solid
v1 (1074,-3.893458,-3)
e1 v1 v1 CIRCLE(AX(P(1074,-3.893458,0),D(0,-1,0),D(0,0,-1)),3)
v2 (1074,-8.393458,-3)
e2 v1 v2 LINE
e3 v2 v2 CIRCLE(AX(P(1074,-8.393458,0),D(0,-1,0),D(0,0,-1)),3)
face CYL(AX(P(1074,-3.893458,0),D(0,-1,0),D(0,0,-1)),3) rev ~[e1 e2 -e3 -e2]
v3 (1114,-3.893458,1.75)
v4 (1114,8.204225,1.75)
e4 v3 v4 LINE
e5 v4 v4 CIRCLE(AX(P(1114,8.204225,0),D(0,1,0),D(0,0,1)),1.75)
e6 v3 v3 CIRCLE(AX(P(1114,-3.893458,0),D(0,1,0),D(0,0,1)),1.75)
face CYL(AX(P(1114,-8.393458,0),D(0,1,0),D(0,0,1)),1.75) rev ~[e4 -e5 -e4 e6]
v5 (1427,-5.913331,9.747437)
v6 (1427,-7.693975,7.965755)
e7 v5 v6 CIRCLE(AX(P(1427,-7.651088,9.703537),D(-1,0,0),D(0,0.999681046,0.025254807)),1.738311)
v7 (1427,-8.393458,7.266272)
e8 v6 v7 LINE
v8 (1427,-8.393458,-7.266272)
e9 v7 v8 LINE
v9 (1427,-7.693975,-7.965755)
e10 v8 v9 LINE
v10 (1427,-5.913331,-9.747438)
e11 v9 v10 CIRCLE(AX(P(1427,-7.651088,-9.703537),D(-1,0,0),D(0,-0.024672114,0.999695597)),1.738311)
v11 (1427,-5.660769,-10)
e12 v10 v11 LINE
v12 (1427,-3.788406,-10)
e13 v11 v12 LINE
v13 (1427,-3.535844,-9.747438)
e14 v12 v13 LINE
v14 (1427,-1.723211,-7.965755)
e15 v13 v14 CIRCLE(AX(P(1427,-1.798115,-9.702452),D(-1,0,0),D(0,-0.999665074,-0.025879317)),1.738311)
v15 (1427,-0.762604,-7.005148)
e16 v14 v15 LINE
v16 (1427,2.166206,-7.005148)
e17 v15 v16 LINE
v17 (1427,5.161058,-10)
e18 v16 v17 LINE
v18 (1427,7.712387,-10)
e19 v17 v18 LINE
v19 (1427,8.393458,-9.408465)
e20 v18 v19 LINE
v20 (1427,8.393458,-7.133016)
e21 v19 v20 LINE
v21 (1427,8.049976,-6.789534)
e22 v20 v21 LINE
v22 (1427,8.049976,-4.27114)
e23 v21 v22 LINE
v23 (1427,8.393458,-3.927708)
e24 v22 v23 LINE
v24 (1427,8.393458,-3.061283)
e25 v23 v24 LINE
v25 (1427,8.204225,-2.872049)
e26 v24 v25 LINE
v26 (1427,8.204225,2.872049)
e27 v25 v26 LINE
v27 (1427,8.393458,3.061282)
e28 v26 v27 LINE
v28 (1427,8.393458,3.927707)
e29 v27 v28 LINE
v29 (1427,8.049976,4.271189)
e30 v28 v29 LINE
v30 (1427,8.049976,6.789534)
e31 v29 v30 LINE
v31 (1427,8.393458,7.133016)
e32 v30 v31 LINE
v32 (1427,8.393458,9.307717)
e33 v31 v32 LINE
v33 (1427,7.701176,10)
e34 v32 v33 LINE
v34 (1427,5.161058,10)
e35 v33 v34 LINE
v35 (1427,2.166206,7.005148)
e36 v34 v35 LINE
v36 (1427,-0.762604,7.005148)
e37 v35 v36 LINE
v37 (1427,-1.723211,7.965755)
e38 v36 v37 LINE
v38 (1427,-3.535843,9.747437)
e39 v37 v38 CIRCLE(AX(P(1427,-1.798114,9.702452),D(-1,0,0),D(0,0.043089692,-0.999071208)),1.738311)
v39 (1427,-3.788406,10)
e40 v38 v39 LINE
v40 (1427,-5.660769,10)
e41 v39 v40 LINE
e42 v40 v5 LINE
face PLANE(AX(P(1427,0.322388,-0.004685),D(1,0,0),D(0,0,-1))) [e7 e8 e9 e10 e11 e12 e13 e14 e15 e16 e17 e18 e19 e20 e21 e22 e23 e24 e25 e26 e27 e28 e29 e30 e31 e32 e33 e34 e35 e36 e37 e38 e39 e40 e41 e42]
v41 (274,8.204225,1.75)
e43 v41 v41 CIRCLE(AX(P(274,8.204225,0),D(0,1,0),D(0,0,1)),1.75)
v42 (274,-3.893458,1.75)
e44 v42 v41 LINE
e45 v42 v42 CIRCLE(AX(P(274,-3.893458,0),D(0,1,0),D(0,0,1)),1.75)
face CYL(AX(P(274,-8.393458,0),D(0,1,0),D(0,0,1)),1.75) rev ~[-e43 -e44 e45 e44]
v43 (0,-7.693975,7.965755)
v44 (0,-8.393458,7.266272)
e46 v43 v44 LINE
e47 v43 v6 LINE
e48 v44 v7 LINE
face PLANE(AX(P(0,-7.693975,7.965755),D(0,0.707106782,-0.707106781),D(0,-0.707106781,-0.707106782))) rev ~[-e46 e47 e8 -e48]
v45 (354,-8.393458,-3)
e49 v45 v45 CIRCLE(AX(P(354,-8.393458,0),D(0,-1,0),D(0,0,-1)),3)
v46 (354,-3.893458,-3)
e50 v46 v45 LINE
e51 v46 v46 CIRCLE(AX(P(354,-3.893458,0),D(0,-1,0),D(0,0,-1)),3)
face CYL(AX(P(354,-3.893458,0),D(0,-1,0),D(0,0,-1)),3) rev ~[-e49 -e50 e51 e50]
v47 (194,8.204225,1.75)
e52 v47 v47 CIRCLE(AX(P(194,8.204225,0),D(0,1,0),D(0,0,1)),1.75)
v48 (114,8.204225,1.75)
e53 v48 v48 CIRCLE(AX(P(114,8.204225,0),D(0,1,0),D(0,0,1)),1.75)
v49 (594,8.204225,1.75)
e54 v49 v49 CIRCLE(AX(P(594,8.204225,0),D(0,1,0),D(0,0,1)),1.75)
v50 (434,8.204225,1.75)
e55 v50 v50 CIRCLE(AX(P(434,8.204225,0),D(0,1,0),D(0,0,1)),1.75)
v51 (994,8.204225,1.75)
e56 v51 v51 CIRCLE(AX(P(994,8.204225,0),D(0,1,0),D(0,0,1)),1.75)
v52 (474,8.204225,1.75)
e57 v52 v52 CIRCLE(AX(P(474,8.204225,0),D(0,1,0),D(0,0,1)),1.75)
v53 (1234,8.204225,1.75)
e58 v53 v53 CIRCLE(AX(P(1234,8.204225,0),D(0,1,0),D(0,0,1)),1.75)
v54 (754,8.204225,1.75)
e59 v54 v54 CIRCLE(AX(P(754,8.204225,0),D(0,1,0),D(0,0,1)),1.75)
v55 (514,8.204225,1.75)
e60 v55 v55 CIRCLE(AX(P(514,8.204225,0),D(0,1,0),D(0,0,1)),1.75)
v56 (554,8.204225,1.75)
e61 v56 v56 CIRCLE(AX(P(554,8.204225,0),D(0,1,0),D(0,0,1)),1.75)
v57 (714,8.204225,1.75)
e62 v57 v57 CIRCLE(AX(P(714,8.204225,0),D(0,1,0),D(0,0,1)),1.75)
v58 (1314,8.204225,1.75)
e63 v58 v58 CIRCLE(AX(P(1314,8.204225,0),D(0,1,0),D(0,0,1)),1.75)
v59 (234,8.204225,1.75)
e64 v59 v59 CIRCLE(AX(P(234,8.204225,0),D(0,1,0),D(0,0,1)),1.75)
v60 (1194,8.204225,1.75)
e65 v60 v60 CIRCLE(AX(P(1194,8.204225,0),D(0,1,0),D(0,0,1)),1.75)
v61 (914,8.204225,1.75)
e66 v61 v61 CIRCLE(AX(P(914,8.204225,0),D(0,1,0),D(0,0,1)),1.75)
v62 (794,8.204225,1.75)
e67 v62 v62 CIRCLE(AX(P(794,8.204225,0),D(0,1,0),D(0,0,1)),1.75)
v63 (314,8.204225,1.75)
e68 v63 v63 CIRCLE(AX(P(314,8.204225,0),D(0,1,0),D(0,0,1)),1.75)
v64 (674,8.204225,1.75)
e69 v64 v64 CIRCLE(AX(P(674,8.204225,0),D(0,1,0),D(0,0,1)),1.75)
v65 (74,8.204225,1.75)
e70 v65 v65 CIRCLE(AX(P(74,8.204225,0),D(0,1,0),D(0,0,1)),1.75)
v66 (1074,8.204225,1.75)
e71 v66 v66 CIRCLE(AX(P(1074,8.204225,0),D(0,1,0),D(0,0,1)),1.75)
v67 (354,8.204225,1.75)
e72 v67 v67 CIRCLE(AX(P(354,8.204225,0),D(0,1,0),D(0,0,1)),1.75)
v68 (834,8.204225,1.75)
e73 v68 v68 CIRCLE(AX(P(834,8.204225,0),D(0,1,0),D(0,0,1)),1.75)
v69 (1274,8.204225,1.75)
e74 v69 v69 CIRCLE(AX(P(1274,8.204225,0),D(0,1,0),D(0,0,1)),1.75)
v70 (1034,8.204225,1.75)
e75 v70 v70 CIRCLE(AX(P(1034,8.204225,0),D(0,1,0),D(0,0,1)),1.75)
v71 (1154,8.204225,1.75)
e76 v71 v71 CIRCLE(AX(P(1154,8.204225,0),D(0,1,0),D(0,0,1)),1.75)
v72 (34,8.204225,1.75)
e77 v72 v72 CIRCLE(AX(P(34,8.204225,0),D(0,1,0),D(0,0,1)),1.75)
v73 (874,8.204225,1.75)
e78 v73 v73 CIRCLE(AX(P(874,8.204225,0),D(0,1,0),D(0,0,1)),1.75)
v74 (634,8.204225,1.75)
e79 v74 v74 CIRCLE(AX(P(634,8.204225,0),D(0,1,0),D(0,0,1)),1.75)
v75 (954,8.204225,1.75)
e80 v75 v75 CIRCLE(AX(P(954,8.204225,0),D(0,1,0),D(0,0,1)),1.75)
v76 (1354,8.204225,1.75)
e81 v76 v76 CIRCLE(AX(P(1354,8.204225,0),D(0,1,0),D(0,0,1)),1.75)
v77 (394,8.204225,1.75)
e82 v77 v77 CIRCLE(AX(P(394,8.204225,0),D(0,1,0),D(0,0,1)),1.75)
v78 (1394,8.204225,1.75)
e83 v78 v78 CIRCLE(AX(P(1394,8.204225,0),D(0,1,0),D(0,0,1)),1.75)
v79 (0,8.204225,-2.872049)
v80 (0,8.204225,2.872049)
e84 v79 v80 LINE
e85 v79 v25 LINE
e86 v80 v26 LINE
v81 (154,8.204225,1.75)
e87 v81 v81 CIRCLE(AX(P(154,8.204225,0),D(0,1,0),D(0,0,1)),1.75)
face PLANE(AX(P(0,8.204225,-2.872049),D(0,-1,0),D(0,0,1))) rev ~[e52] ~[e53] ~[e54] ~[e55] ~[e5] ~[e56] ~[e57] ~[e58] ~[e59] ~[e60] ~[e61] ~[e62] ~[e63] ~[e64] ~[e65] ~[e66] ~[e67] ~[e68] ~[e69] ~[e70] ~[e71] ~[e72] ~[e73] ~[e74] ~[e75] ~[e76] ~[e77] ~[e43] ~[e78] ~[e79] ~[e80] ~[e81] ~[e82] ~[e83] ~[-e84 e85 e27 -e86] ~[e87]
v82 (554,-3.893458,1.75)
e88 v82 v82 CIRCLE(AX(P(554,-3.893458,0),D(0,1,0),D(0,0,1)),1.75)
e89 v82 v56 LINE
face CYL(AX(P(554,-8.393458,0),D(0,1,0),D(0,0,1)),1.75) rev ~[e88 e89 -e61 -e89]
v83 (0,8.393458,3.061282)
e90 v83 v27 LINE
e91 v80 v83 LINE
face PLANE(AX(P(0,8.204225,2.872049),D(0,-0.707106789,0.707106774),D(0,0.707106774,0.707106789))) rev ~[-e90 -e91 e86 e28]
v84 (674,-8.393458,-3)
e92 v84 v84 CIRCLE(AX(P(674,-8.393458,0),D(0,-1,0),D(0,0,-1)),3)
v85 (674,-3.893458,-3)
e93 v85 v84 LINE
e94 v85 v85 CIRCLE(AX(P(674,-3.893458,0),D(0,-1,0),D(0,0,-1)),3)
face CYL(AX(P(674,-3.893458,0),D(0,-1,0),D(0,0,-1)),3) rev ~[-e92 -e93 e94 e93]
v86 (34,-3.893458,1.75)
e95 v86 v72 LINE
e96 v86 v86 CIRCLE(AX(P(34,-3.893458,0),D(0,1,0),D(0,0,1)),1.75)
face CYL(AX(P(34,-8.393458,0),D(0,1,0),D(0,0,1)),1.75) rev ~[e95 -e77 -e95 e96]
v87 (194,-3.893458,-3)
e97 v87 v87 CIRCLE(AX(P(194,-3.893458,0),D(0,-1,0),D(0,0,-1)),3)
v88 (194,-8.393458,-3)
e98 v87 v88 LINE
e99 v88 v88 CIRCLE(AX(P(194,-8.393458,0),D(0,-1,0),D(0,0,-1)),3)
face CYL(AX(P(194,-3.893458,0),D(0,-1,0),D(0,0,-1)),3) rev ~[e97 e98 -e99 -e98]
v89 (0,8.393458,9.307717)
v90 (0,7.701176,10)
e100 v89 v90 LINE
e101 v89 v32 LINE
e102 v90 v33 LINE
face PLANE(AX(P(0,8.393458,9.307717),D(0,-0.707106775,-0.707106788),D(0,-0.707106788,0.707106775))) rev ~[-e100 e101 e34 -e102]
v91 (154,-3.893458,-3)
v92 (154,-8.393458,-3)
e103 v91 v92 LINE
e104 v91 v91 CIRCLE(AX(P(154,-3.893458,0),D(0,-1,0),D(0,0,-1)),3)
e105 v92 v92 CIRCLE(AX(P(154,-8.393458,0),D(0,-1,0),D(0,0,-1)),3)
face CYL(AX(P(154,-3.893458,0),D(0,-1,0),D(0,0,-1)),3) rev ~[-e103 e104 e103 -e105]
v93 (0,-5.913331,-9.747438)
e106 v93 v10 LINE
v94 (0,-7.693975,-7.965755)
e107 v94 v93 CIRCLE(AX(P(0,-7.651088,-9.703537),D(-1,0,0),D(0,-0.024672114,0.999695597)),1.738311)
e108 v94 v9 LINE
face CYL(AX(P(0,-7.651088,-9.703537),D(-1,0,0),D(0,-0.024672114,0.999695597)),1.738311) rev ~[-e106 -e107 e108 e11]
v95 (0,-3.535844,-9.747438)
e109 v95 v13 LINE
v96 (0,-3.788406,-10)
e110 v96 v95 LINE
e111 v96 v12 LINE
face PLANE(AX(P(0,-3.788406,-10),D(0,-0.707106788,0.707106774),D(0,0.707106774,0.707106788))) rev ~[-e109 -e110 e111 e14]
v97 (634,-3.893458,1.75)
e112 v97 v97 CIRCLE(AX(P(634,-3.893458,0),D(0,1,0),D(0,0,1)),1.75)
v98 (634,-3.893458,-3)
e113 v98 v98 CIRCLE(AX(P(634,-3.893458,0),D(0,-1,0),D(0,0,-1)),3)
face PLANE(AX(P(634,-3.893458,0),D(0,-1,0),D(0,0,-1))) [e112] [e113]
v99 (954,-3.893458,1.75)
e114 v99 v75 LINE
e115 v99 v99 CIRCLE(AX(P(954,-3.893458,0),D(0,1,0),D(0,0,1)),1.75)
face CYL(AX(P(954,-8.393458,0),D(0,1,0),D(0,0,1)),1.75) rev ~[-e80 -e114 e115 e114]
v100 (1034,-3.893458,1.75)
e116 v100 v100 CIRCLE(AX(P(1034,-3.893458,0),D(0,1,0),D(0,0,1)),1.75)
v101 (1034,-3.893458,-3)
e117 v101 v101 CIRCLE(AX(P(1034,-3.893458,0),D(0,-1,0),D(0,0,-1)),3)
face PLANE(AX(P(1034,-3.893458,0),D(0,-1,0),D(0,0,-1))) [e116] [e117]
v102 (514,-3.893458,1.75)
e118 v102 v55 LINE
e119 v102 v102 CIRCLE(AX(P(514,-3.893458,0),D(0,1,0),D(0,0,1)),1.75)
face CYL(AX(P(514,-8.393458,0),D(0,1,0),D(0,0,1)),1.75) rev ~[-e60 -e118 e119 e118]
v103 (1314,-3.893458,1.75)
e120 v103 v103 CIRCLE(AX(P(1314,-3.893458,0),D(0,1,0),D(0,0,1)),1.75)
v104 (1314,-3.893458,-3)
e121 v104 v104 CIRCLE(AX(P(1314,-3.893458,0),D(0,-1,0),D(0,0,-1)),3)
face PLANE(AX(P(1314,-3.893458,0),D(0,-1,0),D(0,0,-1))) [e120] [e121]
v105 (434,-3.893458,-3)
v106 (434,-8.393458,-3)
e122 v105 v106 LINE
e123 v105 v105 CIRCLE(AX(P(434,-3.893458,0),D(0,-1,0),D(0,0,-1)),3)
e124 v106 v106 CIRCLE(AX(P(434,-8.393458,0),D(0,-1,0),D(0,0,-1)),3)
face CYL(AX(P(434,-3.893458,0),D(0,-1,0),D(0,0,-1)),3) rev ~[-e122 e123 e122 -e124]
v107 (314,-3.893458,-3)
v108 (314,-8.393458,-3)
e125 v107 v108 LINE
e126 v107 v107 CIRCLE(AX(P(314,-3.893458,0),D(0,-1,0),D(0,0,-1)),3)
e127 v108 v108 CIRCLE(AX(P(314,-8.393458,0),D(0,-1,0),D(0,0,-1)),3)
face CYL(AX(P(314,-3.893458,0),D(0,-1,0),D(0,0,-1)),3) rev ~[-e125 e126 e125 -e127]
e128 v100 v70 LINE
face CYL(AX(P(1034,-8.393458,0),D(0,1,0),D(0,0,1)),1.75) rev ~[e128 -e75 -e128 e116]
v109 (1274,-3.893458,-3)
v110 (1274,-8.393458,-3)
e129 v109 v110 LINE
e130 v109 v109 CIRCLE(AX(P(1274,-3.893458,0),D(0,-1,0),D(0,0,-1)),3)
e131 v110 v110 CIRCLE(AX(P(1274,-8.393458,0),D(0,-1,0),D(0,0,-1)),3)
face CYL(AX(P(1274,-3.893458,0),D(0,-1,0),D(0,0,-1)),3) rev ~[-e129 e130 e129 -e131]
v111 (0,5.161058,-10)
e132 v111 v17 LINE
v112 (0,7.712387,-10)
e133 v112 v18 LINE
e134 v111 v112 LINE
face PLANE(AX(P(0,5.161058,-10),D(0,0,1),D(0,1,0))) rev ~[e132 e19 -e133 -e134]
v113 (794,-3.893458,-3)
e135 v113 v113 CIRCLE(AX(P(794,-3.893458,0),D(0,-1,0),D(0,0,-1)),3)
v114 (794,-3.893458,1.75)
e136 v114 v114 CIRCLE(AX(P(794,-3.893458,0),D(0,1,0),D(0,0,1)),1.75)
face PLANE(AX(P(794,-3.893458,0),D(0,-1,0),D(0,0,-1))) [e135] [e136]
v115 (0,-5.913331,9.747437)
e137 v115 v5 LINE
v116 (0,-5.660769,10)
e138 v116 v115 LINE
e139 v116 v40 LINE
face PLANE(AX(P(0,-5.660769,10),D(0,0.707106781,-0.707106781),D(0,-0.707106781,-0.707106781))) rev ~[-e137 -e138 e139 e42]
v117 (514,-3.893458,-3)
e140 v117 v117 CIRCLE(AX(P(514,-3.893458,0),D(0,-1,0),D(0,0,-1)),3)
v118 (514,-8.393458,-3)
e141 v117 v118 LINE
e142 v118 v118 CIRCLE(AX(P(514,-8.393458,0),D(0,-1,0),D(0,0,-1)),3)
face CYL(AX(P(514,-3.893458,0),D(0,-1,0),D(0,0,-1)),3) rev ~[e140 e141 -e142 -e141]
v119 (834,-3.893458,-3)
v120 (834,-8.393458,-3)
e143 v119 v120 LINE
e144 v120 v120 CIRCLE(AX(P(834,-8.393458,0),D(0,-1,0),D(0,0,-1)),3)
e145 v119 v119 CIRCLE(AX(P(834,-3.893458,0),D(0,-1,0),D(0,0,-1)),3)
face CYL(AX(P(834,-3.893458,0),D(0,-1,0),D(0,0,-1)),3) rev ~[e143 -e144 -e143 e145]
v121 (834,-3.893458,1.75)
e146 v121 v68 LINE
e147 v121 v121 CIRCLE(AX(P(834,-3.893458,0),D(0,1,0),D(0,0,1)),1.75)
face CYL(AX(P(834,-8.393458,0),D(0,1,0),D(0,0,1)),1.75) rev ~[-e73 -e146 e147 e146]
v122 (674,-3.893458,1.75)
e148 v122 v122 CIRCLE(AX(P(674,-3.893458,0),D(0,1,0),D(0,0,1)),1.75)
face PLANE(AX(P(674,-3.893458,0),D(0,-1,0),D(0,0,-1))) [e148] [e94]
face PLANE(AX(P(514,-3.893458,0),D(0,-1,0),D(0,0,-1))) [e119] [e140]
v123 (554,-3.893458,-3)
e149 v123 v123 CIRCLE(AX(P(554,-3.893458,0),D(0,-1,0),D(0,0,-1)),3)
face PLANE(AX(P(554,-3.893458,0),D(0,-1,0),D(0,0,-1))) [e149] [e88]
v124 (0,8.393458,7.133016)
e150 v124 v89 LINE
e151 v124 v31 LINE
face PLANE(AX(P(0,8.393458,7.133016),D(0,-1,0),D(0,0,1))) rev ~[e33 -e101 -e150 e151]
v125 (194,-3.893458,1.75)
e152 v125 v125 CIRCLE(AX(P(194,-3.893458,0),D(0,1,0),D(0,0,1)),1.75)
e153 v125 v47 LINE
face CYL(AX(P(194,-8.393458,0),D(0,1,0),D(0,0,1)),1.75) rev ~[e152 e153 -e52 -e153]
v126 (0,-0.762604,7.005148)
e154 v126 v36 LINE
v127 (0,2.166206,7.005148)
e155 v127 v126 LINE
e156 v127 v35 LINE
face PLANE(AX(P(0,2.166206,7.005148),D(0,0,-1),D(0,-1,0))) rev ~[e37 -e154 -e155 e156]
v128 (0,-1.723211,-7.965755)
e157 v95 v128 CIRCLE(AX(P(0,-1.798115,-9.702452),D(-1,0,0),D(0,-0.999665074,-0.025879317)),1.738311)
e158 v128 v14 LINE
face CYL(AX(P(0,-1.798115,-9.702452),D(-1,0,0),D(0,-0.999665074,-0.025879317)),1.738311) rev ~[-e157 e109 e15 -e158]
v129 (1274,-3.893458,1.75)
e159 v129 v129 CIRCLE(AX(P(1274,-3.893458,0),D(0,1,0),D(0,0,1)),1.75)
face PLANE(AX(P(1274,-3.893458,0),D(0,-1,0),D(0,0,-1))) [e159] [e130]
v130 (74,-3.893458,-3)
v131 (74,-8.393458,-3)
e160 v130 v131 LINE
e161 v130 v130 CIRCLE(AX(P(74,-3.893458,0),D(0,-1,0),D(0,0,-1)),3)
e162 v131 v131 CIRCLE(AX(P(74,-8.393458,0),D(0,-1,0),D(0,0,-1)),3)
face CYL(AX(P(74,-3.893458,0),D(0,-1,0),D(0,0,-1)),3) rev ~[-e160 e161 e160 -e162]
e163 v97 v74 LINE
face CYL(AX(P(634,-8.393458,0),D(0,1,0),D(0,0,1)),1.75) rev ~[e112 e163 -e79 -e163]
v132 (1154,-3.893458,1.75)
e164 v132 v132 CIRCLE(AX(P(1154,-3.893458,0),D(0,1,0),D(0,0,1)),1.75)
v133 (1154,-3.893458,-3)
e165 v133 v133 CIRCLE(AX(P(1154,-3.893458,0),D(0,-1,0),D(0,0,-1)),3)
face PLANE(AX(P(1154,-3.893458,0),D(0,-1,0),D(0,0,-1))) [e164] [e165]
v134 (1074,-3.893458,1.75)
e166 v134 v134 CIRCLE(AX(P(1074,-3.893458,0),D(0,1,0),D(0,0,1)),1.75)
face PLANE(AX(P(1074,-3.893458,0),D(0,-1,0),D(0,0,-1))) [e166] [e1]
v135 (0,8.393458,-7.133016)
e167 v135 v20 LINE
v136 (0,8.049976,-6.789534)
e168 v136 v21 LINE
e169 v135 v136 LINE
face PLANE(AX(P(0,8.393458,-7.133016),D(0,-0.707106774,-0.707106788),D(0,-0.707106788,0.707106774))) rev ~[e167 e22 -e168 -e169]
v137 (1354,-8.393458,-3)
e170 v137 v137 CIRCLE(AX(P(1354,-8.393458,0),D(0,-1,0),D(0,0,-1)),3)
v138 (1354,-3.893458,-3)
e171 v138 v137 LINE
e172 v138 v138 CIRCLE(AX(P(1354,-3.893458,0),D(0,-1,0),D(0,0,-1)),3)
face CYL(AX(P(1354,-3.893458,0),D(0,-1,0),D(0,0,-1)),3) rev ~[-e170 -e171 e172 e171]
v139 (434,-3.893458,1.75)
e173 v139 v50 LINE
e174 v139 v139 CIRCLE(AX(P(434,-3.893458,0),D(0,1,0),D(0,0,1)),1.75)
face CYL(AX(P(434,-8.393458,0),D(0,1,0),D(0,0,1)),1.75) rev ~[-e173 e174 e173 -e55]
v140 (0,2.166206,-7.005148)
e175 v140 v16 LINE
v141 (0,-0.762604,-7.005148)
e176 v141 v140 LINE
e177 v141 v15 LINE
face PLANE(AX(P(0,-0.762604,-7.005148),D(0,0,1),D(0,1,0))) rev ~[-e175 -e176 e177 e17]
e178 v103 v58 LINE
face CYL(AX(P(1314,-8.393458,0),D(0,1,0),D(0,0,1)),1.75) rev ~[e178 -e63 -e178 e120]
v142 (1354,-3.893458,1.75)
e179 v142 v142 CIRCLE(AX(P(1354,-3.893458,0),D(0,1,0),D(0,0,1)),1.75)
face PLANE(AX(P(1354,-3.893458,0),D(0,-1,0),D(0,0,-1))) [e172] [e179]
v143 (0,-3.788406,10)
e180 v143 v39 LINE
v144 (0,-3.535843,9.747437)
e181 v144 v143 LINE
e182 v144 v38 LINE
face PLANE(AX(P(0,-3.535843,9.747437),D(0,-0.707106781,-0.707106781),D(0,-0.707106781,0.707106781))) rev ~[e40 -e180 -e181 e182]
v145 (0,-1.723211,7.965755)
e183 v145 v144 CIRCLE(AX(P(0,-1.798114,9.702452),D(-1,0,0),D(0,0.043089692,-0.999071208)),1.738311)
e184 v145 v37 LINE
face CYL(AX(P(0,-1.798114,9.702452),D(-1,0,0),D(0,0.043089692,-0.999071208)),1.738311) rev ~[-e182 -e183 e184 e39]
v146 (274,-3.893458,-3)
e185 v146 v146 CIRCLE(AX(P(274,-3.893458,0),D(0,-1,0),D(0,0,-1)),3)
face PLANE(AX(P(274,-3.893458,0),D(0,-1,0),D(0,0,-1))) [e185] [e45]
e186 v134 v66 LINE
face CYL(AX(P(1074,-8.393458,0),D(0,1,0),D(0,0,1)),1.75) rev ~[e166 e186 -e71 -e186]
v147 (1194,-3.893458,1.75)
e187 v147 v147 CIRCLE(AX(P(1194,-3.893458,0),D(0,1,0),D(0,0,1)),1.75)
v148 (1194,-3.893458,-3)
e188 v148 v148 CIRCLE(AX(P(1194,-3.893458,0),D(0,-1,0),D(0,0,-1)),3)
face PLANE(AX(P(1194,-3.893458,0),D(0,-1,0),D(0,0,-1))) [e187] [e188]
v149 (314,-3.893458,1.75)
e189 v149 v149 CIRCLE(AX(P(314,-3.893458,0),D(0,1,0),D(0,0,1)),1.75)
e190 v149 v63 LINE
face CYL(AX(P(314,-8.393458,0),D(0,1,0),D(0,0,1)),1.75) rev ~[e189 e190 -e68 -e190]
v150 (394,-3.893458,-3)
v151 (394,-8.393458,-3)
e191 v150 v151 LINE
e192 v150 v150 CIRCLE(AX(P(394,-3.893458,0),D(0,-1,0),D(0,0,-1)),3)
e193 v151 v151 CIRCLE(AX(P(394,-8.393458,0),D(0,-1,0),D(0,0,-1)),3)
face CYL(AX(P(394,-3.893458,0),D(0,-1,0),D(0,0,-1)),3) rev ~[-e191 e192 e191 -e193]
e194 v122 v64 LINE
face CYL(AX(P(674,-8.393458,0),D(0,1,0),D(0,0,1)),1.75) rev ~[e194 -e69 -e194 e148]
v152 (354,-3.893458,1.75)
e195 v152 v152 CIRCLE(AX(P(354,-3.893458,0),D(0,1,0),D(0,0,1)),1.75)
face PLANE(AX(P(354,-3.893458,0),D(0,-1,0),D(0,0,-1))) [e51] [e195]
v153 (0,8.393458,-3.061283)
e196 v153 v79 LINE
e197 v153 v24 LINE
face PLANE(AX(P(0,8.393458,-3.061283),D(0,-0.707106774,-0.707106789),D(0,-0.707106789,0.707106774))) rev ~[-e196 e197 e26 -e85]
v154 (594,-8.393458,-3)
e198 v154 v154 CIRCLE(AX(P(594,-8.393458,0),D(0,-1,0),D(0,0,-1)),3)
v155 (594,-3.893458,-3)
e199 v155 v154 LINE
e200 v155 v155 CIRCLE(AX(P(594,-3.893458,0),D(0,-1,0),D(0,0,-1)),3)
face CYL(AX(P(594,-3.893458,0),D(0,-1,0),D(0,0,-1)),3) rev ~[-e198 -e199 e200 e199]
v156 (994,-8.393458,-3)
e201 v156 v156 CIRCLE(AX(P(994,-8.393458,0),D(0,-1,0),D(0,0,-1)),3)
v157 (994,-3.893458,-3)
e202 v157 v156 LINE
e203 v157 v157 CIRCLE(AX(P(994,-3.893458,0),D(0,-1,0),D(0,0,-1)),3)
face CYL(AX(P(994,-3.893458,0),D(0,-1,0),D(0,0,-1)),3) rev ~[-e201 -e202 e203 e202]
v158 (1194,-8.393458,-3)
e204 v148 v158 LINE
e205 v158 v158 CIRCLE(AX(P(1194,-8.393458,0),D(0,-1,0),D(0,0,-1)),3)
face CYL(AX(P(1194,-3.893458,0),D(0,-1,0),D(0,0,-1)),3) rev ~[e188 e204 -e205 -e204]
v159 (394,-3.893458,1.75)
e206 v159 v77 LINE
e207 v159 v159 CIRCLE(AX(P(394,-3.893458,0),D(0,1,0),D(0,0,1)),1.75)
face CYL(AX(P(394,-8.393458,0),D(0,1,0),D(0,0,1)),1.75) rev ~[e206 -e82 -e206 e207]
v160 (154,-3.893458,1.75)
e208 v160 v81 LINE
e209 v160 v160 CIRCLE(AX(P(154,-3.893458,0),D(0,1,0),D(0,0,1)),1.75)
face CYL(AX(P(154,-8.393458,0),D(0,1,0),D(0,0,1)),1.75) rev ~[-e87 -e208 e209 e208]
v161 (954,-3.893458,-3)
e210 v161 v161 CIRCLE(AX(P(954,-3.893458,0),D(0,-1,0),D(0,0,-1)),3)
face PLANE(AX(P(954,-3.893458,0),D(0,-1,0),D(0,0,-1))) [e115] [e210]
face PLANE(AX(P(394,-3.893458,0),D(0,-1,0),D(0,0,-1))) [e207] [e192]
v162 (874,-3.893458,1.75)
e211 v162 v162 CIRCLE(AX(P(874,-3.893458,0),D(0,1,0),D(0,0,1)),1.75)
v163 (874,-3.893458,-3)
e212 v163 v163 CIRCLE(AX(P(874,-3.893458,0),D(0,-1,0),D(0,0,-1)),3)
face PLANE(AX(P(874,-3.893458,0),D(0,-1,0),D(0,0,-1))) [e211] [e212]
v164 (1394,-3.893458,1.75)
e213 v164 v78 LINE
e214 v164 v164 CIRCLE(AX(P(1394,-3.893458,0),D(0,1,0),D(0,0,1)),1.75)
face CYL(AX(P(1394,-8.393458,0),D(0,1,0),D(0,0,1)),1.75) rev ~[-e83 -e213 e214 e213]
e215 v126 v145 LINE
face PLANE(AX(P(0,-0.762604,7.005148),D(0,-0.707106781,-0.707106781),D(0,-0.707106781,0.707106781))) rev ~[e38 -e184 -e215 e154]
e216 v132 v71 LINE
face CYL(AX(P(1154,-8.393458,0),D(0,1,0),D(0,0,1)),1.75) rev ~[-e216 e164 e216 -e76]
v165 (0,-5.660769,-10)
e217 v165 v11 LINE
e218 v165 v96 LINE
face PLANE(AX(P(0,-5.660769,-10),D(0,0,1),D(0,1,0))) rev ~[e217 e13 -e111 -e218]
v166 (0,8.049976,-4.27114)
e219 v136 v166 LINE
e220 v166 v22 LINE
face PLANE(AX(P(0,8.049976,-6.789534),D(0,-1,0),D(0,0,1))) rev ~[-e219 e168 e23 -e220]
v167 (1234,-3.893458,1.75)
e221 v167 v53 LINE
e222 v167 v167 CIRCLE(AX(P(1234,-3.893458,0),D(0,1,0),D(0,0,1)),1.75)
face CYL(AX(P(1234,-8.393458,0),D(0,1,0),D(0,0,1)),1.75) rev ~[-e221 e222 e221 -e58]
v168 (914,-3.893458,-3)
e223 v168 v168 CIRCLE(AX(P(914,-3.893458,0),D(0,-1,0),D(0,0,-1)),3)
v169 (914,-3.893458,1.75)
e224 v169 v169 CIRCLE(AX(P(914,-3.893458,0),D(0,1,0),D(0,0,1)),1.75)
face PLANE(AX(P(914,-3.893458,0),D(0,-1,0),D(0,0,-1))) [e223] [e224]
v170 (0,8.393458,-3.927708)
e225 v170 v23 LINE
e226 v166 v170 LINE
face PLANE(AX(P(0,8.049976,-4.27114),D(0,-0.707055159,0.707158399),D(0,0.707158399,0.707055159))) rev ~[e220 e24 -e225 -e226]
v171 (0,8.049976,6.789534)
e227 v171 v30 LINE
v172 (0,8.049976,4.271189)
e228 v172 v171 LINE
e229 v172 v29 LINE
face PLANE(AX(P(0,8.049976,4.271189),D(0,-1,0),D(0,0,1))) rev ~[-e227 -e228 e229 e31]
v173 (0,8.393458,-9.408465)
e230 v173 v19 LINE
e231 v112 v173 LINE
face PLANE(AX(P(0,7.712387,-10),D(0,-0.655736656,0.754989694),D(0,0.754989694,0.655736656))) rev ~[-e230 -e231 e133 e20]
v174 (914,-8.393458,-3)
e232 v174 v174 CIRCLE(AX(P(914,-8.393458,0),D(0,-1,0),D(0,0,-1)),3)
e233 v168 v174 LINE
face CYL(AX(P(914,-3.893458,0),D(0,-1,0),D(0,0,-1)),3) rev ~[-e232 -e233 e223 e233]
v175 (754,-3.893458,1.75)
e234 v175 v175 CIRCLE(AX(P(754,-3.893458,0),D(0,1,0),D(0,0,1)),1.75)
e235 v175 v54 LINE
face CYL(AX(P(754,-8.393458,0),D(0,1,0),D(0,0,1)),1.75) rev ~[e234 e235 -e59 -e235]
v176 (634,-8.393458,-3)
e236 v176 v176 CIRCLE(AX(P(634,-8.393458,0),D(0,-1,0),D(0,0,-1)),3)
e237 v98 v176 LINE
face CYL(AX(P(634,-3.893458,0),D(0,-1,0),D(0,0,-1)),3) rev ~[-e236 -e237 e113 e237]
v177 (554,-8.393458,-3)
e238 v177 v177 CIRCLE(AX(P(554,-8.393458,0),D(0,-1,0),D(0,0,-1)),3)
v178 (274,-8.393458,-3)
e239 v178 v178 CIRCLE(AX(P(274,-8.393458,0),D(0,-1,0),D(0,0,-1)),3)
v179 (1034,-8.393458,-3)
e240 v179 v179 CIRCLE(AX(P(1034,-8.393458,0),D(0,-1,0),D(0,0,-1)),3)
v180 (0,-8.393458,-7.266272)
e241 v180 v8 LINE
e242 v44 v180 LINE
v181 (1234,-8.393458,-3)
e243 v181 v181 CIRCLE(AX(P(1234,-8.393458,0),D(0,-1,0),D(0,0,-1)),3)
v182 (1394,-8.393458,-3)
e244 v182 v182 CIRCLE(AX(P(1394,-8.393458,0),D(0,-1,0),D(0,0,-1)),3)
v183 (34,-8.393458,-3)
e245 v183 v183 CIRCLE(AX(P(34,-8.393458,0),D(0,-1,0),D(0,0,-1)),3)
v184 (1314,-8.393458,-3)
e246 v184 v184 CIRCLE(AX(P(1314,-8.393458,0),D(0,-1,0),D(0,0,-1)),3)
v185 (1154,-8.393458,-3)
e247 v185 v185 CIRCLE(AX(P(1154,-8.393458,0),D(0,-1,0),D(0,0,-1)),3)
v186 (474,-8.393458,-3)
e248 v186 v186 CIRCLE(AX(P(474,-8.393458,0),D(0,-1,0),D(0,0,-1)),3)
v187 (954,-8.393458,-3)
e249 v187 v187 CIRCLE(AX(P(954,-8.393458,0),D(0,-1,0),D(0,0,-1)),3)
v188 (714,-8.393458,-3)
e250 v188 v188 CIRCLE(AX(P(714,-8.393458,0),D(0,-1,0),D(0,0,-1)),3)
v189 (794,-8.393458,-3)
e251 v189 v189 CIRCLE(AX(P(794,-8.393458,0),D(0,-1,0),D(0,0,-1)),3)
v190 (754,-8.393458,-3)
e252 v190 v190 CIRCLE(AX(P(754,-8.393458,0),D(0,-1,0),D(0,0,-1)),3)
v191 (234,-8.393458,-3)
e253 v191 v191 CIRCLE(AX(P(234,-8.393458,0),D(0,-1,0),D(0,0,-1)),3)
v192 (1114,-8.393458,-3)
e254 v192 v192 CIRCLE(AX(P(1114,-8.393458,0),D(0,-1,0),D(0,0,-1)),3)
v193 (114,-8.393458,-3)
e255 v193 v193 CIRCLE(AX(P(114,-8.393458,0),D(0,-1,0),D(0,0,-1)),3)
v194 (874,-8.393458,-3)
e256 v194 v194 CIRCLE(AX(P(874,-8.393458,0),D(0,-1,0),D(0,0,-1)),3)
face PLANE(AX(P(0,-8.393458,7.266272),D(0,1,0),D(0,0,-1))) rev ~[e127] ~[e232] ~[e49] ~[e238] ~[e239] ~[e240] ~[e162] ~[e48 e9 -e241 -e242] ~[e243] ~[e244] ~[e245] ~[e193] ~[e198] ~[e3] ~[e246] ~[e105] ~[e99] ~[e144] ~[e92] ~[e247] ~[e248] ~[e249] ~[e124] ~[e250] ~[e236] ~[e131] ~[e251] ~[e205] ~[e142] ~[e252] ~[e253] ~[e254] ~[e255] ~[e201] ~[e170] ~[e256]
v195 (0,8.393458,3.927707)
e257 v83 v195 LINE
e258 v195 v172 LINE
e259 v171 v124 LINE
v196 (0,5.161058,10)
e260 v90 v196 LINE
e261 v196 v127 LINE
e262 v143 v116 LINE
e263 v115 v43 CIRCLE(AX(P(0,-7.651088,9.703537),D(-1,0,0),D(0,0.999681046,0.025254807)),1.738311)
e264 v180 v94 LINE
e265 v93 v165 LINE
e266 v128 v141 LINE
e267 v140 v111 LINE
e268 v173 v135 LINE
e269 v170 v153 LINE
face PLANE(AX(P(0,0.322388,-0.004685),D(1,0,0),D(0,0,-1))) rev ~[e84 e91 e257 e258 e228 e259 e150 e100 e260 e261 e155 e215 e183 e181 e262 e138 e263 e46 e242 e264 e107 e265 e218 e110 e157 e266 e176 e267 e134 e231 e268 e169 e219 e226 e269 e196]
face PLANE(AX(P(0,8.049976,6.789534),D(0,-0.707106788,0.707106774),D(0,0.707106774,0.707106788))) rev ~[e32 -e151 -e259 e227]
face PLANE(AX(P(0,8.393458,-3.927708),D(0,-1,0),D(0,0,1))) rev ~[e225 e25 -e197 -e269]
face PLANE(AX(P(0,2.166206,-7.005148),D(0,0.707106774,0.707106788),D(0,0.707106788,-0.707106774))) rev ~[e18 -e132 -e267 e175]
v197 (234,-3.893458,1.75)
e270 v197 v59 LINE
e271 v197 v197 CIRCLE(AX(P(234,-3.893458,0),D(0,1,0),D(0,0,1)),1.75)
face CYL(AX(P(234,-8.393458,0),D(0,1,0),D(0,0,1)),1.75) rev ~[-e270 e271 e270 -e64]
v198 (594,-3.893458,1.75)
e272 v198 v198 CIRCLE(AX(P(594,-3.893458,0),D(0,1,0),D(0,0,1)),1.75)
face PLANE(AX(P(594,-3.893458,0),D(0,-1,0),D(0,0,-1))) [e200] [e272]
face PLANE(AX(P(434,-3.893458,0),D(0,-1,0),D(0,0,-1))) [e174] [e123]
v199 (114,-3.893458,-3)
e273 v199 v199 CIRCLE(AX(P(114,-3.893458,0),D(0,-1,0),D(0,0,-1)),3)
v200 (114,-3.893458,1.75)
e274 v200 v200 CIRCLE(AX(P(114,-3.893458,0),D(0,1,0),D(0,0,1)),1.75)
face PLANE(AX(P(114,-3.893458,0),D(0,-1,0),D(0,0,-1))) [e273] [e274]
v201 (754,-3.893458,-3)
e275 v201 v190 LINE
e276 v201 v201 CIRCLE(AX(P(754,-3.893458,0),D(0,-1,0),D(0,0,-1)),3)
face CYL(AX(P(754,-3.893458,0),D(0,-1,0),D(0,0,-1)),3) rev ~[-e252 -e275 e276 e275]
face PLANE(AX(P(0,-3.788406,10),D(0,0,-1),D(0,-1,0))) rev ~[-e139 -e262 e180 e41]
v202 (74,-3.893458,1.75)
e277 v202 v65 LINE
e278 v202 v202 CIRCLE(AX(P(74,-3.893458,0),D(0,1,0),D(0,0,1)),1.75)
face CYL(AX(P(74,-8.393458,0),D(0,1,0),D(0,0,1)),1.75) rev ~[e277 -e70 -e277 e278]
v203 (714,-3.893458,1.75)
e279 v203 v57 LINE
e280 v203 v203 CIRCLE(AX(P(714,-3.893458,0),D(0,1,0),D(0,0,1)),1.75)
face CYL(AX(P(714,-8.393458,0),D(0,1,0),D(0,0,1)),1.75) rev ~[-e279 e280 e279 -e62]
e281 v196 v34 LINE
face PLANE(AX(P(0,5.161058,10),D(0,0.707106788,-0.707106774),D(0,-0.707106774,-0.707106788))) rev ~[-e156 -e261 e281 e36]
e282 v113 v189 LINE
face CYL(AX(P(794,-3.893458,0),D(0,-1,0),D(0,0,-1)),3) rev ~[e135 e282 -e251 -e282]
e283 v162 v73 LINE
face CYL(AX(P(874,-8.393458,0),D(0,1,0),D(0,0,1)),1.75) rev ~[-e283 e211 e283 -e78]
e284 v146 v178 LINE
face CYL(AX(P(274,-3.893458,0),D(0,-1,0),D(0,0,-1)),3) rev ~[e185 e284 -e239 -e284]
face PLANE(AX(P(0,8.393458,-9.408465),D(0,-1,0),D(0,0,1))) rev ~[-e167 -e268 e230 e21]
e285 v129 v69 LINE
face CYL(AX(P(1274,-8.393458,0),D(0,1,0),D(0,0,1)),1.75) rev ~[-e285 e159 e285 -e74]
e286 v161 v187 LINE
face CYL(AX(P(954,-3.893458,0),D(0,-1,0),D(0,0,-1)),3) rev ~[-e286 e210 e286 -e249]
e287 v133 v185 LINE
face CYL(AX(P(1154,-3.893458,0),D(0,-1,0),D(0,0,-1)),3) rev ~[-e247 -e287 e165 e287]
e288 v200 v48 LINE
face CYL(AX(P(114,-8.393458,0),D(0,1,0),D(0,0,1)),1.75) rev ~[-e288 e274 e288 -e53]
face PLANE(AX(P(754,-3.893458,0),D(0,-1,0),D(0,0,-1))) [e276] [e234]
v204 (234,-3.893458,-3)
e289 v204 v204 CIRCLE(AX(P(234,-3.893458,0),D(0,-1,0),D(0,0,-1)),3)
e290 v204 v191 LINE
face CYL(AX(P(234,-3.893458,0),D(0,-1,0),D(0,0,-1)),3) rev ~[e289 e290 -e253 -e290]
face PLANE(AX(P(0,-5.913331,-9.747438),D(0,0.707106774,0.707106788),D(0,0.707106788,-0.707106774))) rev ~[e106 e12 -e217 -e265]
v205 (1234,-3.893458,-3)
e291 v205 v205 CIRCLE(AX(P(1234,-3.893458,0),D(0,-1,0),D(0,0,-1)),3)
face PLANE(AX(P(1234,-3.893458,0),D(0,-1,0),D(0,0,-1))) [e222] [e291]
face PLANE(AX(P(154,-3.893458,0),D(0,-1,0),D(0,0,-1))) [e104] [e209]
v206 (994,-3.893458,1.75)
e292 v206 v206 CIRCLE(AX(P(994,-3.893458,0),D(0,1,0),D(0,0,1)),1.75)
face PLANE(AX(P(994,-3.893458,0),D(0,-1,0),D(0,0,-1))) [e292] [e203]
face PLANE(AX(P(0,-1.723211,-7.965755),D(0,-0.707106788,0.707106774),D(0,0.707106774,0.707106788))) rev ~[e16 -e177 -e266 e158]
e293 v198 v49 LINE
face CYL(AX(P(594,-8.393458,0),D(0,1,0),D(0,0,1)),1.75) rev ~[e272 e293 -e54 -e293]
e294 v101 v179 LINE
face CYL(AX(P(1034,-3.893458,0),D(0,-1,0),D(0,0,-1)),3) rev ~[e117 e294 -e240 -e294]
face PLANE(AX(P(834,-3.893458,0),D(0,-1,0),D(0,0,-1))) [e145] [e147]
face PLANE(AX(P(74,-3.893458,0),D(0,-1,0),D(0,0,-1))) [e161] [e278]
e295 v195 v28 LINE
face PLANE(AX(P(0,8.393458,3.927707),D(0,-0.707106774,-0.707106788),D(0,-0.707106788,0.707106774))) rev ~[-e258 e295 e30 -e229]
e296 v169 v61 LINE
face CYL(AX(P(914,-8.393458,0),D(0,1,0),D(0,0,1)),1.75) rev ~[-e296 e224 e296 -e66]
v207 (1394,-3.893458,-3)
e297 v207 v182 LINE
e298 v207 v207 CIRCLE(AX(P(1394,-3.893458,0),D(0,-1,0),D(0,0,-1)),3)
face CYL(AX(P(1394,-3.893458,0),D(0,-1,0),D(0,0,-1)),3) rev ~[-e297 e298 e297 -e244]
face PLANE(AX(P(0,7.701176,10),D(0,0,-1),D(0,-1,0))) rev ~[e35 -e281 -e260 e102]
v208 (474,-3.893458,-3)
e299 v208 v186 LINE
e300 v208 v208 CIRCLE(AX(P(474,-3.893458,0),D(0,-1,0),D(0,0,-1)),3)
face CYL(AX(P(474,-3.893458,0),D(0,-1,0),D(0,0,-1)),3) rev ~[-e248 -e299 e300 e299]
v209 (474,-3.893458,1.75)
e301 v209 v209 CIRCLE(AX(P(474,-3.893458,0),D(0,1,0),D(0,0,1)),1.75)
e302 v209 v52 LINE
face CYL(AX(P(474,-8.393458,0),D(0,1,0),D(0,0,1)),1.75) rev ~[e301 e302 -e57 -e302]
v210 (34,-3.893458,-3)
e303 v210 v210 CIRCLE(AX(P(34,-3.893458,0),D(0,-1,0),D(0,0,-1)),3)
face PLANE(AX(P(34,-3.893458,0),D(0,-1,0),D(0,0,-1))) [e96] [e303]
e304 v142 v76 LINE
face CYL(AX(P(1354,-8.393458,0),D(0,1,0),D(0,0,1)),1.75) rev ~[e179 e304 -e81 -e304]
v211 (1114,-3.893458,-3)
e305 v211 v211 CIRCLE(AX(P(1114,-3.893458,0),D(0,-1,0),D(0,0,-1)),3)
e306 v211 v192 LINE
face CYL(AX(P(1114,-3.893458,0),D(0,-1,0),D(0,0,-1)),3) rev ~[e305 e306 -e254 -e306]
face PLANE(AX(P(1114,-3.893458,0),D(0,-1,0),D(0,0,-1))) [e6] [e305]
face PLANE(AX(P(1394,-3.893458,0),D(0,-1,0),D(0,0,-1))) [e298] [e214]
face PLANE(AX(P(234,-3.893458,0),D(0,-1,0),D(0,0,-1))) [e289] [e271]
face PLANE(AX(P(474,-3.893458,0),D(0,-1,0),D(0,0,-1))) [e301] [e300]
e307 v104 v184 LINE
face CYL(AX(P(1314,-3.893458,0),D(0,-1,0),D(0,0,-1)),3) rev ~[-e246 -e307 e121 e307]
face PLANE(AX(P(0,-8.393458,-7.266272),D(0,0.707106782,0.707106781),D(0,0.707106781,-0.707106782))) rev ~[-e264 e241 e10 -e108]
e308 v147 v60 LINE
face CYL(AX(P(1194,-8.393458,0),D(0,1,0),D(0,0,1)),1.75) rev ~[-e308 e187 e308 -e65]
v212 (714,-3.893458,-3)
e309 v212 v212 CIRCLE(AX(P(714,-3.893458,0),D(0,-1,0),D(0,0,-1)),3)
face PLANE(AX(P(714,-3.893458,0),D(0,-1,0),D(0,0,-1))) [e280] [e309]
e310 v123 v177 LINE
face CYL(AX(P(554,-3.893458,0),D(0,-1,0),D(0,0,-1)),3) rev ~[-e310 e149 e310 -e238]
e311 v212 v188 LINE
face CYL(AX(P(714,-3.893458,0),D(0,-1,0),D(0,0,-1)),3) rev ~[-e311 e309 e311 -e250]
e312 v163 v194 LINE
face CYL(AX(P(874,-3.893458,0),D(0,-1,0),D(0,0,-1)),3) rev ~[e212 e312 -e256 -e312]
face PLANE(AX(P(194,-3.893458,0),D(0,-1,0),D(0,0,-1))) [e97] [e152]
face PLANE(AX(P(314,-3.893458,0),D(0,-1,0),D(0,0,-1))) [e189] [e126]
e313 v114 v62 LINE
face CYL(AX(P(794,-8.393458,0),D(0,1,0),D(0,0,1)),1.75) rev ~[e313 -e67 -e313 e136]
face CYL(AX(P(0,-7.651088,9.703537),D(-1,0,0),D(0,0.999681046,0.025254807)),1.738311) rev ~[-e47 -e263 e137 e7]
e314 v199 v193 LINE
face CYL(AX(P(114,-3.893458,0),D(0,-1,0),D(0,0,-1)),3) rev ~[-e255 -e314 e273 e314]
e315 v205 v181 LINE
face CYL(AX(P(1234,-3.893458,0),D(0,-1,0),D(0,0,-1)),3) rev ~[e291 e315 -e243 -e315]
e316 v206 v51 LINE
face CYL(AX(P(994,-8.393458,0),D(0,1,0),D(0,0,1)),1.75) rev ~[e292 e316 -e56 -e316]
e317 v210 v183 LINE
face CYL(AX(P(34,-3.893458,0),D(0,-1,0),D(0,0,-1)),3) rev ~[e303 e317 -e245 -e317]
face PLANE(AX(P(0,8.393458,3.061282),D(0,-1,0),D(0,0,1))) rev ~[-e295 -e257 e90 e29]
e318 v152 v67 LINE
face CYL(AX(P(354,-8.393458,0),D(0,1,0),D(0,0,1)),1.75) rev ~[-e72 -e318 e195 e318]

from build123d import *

# Parameters (mm, degrees)
BOSS_EXTRUDE1_DEPTH = 1427
HOLE1_D             = 3.5
HOLE1_CBORE_D       = 6
HOLE1_CBORE_DEPTH   = 4.5
LPATTERN1_COUNT     = 35
LPATTERN1_PITCH     = 40


with BuildPart() as part:
    # Sketch1 → Boss-Extrude1 (new body)
    with BuildSketch(Plane(origin=(0, 0, 0), x_dir=(0, 0, -1), z_dir=(1, 0, 0))):
        with BuildLine():
            Line((-7.965754986, -7.693975449), (-7.266272068, -8.393458366))
            Line((-7.266272068, -8.393458366), (7.266272068, -8.393458366))
            Line((7.266272068, -8.393458366), (7.965754986, -7.693975449))
            ThreePointArc((7.965754986, -7.693975449), (8.474723757, -6.421557866), (9.747437917, -5.913331162))
            Line((9.747437917, -5.913331162), (10.000000437, -5.660768637))
            Line((10.000000437, -5.660768637), (10.000000437, -3.788406023))
            Line((10.000000437, -3.788406023), (9.747437912, -3.535843503))
            ThreePointArc((9.747437912, -3.535843503), (8.462742055, -3.016656911), (7.965755402, -1.72321096))
            Line((7.965755402, -1.72321096), (7.005148341, -0.762603918))
            Line((7.005148341, -0.762603918), (7.005148341, 2.166206023))
            Line((7.005148341, 2.166206023), (10.000000347, 5.161058089))
            Line((10.000000347, 5.161058089), (10.000000347, 7.712387211))
            Line((10.000000347, 7.712387211), (9.408464779, 8.393458268))
            Line((9.408464779, 8.393458268), (7.133016457, 8.393458268))
            Line((7.133016457, 8.393458268), (6.789534443, 8.049976247))
            Line((6.789534443, 8.049976247), (4.271139656, 8.049976247))
            Line((4.271139656, 8.049976247), (3.927707784, 8.393458265))
            Line((3.927707784, 8.393458265), (3.061282509, 8.393458265))
            Line((3.061282509, 8.393458265), (2.872049327, 8.204225079))
            Line((2.872049327, 8.204225079), (-2.87204886, 8.204225079))
            Line((-2.87204886, 8.204225079), (-3.061282046, 8.393458261))
            Line((-3.061282046, 8.393458261), (-3.927707321, 8.393458261))
            Line((-3.927707321, 8.393458261), (-4.271189216, 8.049976359))
            Line((-4.271189216, 8.049976359), (-6.789534095, 8.049976359))
            Line((-6.789534095, 8.049976359), (-7.133016116, 8.393458373))
            Line((-7.133016116, 8.393458373), (-9.30771733, 8.393458373))
            Line((-9.30771733, 8.393458373), (-10, 7.70117569))
            Line((-10, 7.70117569), (-10, 5.161058187))
            Line((-10, 5.161058187), (-7.005147934, 2.166206181))
            Line((-7.005147934, 2.166206181), (-7.005147934, -0.76260376))
            Line((-7.005147934, -0.76260376), (-7.965754986, -1.723210812))
            ThreePointArc((-7.965754986, -1.723210812), (-8.462741848, -3.016656549), (-9.747437477, -3.535843372))
            Line((-9.747437477, -3.535843372), (-10, -3.788405895))
            Line((-10, -3.788405895), (-10, -5.660768509))
            Line((-10, -5.660768509), (-9.747437477, -5.913331032))
            ThreePointArc((-9.747437477, -5.913331032), (-8.474723558, -6.421557943), (-7.965754986, -7.693975449))
        make_face()
    extrude(amount=BOSS_EXTRUDE1_DEPTH)

    # Hole1 (through all)
    with Locations(Plane(origin=(34, -8.393458366, 0), x_dir=(0, 0, -1), z_dir=(0, -1, 0))):
        with Locations((0, 0)):
            hole1 = CounterBoreHole(HOLE1_D / 2, HOLE1_CBORE_D / 2, HOLE1_CBORE_DEPTH)

    # LPattern1: Hole1 ×35
    with Locations(*[(i * LPATTERN1_PITCH, 0, 0) for i in range(1, LPATTERN1_COUNT)]):
        add(hole1, mode=Mode.SUBTRACT)


solid = part.part
